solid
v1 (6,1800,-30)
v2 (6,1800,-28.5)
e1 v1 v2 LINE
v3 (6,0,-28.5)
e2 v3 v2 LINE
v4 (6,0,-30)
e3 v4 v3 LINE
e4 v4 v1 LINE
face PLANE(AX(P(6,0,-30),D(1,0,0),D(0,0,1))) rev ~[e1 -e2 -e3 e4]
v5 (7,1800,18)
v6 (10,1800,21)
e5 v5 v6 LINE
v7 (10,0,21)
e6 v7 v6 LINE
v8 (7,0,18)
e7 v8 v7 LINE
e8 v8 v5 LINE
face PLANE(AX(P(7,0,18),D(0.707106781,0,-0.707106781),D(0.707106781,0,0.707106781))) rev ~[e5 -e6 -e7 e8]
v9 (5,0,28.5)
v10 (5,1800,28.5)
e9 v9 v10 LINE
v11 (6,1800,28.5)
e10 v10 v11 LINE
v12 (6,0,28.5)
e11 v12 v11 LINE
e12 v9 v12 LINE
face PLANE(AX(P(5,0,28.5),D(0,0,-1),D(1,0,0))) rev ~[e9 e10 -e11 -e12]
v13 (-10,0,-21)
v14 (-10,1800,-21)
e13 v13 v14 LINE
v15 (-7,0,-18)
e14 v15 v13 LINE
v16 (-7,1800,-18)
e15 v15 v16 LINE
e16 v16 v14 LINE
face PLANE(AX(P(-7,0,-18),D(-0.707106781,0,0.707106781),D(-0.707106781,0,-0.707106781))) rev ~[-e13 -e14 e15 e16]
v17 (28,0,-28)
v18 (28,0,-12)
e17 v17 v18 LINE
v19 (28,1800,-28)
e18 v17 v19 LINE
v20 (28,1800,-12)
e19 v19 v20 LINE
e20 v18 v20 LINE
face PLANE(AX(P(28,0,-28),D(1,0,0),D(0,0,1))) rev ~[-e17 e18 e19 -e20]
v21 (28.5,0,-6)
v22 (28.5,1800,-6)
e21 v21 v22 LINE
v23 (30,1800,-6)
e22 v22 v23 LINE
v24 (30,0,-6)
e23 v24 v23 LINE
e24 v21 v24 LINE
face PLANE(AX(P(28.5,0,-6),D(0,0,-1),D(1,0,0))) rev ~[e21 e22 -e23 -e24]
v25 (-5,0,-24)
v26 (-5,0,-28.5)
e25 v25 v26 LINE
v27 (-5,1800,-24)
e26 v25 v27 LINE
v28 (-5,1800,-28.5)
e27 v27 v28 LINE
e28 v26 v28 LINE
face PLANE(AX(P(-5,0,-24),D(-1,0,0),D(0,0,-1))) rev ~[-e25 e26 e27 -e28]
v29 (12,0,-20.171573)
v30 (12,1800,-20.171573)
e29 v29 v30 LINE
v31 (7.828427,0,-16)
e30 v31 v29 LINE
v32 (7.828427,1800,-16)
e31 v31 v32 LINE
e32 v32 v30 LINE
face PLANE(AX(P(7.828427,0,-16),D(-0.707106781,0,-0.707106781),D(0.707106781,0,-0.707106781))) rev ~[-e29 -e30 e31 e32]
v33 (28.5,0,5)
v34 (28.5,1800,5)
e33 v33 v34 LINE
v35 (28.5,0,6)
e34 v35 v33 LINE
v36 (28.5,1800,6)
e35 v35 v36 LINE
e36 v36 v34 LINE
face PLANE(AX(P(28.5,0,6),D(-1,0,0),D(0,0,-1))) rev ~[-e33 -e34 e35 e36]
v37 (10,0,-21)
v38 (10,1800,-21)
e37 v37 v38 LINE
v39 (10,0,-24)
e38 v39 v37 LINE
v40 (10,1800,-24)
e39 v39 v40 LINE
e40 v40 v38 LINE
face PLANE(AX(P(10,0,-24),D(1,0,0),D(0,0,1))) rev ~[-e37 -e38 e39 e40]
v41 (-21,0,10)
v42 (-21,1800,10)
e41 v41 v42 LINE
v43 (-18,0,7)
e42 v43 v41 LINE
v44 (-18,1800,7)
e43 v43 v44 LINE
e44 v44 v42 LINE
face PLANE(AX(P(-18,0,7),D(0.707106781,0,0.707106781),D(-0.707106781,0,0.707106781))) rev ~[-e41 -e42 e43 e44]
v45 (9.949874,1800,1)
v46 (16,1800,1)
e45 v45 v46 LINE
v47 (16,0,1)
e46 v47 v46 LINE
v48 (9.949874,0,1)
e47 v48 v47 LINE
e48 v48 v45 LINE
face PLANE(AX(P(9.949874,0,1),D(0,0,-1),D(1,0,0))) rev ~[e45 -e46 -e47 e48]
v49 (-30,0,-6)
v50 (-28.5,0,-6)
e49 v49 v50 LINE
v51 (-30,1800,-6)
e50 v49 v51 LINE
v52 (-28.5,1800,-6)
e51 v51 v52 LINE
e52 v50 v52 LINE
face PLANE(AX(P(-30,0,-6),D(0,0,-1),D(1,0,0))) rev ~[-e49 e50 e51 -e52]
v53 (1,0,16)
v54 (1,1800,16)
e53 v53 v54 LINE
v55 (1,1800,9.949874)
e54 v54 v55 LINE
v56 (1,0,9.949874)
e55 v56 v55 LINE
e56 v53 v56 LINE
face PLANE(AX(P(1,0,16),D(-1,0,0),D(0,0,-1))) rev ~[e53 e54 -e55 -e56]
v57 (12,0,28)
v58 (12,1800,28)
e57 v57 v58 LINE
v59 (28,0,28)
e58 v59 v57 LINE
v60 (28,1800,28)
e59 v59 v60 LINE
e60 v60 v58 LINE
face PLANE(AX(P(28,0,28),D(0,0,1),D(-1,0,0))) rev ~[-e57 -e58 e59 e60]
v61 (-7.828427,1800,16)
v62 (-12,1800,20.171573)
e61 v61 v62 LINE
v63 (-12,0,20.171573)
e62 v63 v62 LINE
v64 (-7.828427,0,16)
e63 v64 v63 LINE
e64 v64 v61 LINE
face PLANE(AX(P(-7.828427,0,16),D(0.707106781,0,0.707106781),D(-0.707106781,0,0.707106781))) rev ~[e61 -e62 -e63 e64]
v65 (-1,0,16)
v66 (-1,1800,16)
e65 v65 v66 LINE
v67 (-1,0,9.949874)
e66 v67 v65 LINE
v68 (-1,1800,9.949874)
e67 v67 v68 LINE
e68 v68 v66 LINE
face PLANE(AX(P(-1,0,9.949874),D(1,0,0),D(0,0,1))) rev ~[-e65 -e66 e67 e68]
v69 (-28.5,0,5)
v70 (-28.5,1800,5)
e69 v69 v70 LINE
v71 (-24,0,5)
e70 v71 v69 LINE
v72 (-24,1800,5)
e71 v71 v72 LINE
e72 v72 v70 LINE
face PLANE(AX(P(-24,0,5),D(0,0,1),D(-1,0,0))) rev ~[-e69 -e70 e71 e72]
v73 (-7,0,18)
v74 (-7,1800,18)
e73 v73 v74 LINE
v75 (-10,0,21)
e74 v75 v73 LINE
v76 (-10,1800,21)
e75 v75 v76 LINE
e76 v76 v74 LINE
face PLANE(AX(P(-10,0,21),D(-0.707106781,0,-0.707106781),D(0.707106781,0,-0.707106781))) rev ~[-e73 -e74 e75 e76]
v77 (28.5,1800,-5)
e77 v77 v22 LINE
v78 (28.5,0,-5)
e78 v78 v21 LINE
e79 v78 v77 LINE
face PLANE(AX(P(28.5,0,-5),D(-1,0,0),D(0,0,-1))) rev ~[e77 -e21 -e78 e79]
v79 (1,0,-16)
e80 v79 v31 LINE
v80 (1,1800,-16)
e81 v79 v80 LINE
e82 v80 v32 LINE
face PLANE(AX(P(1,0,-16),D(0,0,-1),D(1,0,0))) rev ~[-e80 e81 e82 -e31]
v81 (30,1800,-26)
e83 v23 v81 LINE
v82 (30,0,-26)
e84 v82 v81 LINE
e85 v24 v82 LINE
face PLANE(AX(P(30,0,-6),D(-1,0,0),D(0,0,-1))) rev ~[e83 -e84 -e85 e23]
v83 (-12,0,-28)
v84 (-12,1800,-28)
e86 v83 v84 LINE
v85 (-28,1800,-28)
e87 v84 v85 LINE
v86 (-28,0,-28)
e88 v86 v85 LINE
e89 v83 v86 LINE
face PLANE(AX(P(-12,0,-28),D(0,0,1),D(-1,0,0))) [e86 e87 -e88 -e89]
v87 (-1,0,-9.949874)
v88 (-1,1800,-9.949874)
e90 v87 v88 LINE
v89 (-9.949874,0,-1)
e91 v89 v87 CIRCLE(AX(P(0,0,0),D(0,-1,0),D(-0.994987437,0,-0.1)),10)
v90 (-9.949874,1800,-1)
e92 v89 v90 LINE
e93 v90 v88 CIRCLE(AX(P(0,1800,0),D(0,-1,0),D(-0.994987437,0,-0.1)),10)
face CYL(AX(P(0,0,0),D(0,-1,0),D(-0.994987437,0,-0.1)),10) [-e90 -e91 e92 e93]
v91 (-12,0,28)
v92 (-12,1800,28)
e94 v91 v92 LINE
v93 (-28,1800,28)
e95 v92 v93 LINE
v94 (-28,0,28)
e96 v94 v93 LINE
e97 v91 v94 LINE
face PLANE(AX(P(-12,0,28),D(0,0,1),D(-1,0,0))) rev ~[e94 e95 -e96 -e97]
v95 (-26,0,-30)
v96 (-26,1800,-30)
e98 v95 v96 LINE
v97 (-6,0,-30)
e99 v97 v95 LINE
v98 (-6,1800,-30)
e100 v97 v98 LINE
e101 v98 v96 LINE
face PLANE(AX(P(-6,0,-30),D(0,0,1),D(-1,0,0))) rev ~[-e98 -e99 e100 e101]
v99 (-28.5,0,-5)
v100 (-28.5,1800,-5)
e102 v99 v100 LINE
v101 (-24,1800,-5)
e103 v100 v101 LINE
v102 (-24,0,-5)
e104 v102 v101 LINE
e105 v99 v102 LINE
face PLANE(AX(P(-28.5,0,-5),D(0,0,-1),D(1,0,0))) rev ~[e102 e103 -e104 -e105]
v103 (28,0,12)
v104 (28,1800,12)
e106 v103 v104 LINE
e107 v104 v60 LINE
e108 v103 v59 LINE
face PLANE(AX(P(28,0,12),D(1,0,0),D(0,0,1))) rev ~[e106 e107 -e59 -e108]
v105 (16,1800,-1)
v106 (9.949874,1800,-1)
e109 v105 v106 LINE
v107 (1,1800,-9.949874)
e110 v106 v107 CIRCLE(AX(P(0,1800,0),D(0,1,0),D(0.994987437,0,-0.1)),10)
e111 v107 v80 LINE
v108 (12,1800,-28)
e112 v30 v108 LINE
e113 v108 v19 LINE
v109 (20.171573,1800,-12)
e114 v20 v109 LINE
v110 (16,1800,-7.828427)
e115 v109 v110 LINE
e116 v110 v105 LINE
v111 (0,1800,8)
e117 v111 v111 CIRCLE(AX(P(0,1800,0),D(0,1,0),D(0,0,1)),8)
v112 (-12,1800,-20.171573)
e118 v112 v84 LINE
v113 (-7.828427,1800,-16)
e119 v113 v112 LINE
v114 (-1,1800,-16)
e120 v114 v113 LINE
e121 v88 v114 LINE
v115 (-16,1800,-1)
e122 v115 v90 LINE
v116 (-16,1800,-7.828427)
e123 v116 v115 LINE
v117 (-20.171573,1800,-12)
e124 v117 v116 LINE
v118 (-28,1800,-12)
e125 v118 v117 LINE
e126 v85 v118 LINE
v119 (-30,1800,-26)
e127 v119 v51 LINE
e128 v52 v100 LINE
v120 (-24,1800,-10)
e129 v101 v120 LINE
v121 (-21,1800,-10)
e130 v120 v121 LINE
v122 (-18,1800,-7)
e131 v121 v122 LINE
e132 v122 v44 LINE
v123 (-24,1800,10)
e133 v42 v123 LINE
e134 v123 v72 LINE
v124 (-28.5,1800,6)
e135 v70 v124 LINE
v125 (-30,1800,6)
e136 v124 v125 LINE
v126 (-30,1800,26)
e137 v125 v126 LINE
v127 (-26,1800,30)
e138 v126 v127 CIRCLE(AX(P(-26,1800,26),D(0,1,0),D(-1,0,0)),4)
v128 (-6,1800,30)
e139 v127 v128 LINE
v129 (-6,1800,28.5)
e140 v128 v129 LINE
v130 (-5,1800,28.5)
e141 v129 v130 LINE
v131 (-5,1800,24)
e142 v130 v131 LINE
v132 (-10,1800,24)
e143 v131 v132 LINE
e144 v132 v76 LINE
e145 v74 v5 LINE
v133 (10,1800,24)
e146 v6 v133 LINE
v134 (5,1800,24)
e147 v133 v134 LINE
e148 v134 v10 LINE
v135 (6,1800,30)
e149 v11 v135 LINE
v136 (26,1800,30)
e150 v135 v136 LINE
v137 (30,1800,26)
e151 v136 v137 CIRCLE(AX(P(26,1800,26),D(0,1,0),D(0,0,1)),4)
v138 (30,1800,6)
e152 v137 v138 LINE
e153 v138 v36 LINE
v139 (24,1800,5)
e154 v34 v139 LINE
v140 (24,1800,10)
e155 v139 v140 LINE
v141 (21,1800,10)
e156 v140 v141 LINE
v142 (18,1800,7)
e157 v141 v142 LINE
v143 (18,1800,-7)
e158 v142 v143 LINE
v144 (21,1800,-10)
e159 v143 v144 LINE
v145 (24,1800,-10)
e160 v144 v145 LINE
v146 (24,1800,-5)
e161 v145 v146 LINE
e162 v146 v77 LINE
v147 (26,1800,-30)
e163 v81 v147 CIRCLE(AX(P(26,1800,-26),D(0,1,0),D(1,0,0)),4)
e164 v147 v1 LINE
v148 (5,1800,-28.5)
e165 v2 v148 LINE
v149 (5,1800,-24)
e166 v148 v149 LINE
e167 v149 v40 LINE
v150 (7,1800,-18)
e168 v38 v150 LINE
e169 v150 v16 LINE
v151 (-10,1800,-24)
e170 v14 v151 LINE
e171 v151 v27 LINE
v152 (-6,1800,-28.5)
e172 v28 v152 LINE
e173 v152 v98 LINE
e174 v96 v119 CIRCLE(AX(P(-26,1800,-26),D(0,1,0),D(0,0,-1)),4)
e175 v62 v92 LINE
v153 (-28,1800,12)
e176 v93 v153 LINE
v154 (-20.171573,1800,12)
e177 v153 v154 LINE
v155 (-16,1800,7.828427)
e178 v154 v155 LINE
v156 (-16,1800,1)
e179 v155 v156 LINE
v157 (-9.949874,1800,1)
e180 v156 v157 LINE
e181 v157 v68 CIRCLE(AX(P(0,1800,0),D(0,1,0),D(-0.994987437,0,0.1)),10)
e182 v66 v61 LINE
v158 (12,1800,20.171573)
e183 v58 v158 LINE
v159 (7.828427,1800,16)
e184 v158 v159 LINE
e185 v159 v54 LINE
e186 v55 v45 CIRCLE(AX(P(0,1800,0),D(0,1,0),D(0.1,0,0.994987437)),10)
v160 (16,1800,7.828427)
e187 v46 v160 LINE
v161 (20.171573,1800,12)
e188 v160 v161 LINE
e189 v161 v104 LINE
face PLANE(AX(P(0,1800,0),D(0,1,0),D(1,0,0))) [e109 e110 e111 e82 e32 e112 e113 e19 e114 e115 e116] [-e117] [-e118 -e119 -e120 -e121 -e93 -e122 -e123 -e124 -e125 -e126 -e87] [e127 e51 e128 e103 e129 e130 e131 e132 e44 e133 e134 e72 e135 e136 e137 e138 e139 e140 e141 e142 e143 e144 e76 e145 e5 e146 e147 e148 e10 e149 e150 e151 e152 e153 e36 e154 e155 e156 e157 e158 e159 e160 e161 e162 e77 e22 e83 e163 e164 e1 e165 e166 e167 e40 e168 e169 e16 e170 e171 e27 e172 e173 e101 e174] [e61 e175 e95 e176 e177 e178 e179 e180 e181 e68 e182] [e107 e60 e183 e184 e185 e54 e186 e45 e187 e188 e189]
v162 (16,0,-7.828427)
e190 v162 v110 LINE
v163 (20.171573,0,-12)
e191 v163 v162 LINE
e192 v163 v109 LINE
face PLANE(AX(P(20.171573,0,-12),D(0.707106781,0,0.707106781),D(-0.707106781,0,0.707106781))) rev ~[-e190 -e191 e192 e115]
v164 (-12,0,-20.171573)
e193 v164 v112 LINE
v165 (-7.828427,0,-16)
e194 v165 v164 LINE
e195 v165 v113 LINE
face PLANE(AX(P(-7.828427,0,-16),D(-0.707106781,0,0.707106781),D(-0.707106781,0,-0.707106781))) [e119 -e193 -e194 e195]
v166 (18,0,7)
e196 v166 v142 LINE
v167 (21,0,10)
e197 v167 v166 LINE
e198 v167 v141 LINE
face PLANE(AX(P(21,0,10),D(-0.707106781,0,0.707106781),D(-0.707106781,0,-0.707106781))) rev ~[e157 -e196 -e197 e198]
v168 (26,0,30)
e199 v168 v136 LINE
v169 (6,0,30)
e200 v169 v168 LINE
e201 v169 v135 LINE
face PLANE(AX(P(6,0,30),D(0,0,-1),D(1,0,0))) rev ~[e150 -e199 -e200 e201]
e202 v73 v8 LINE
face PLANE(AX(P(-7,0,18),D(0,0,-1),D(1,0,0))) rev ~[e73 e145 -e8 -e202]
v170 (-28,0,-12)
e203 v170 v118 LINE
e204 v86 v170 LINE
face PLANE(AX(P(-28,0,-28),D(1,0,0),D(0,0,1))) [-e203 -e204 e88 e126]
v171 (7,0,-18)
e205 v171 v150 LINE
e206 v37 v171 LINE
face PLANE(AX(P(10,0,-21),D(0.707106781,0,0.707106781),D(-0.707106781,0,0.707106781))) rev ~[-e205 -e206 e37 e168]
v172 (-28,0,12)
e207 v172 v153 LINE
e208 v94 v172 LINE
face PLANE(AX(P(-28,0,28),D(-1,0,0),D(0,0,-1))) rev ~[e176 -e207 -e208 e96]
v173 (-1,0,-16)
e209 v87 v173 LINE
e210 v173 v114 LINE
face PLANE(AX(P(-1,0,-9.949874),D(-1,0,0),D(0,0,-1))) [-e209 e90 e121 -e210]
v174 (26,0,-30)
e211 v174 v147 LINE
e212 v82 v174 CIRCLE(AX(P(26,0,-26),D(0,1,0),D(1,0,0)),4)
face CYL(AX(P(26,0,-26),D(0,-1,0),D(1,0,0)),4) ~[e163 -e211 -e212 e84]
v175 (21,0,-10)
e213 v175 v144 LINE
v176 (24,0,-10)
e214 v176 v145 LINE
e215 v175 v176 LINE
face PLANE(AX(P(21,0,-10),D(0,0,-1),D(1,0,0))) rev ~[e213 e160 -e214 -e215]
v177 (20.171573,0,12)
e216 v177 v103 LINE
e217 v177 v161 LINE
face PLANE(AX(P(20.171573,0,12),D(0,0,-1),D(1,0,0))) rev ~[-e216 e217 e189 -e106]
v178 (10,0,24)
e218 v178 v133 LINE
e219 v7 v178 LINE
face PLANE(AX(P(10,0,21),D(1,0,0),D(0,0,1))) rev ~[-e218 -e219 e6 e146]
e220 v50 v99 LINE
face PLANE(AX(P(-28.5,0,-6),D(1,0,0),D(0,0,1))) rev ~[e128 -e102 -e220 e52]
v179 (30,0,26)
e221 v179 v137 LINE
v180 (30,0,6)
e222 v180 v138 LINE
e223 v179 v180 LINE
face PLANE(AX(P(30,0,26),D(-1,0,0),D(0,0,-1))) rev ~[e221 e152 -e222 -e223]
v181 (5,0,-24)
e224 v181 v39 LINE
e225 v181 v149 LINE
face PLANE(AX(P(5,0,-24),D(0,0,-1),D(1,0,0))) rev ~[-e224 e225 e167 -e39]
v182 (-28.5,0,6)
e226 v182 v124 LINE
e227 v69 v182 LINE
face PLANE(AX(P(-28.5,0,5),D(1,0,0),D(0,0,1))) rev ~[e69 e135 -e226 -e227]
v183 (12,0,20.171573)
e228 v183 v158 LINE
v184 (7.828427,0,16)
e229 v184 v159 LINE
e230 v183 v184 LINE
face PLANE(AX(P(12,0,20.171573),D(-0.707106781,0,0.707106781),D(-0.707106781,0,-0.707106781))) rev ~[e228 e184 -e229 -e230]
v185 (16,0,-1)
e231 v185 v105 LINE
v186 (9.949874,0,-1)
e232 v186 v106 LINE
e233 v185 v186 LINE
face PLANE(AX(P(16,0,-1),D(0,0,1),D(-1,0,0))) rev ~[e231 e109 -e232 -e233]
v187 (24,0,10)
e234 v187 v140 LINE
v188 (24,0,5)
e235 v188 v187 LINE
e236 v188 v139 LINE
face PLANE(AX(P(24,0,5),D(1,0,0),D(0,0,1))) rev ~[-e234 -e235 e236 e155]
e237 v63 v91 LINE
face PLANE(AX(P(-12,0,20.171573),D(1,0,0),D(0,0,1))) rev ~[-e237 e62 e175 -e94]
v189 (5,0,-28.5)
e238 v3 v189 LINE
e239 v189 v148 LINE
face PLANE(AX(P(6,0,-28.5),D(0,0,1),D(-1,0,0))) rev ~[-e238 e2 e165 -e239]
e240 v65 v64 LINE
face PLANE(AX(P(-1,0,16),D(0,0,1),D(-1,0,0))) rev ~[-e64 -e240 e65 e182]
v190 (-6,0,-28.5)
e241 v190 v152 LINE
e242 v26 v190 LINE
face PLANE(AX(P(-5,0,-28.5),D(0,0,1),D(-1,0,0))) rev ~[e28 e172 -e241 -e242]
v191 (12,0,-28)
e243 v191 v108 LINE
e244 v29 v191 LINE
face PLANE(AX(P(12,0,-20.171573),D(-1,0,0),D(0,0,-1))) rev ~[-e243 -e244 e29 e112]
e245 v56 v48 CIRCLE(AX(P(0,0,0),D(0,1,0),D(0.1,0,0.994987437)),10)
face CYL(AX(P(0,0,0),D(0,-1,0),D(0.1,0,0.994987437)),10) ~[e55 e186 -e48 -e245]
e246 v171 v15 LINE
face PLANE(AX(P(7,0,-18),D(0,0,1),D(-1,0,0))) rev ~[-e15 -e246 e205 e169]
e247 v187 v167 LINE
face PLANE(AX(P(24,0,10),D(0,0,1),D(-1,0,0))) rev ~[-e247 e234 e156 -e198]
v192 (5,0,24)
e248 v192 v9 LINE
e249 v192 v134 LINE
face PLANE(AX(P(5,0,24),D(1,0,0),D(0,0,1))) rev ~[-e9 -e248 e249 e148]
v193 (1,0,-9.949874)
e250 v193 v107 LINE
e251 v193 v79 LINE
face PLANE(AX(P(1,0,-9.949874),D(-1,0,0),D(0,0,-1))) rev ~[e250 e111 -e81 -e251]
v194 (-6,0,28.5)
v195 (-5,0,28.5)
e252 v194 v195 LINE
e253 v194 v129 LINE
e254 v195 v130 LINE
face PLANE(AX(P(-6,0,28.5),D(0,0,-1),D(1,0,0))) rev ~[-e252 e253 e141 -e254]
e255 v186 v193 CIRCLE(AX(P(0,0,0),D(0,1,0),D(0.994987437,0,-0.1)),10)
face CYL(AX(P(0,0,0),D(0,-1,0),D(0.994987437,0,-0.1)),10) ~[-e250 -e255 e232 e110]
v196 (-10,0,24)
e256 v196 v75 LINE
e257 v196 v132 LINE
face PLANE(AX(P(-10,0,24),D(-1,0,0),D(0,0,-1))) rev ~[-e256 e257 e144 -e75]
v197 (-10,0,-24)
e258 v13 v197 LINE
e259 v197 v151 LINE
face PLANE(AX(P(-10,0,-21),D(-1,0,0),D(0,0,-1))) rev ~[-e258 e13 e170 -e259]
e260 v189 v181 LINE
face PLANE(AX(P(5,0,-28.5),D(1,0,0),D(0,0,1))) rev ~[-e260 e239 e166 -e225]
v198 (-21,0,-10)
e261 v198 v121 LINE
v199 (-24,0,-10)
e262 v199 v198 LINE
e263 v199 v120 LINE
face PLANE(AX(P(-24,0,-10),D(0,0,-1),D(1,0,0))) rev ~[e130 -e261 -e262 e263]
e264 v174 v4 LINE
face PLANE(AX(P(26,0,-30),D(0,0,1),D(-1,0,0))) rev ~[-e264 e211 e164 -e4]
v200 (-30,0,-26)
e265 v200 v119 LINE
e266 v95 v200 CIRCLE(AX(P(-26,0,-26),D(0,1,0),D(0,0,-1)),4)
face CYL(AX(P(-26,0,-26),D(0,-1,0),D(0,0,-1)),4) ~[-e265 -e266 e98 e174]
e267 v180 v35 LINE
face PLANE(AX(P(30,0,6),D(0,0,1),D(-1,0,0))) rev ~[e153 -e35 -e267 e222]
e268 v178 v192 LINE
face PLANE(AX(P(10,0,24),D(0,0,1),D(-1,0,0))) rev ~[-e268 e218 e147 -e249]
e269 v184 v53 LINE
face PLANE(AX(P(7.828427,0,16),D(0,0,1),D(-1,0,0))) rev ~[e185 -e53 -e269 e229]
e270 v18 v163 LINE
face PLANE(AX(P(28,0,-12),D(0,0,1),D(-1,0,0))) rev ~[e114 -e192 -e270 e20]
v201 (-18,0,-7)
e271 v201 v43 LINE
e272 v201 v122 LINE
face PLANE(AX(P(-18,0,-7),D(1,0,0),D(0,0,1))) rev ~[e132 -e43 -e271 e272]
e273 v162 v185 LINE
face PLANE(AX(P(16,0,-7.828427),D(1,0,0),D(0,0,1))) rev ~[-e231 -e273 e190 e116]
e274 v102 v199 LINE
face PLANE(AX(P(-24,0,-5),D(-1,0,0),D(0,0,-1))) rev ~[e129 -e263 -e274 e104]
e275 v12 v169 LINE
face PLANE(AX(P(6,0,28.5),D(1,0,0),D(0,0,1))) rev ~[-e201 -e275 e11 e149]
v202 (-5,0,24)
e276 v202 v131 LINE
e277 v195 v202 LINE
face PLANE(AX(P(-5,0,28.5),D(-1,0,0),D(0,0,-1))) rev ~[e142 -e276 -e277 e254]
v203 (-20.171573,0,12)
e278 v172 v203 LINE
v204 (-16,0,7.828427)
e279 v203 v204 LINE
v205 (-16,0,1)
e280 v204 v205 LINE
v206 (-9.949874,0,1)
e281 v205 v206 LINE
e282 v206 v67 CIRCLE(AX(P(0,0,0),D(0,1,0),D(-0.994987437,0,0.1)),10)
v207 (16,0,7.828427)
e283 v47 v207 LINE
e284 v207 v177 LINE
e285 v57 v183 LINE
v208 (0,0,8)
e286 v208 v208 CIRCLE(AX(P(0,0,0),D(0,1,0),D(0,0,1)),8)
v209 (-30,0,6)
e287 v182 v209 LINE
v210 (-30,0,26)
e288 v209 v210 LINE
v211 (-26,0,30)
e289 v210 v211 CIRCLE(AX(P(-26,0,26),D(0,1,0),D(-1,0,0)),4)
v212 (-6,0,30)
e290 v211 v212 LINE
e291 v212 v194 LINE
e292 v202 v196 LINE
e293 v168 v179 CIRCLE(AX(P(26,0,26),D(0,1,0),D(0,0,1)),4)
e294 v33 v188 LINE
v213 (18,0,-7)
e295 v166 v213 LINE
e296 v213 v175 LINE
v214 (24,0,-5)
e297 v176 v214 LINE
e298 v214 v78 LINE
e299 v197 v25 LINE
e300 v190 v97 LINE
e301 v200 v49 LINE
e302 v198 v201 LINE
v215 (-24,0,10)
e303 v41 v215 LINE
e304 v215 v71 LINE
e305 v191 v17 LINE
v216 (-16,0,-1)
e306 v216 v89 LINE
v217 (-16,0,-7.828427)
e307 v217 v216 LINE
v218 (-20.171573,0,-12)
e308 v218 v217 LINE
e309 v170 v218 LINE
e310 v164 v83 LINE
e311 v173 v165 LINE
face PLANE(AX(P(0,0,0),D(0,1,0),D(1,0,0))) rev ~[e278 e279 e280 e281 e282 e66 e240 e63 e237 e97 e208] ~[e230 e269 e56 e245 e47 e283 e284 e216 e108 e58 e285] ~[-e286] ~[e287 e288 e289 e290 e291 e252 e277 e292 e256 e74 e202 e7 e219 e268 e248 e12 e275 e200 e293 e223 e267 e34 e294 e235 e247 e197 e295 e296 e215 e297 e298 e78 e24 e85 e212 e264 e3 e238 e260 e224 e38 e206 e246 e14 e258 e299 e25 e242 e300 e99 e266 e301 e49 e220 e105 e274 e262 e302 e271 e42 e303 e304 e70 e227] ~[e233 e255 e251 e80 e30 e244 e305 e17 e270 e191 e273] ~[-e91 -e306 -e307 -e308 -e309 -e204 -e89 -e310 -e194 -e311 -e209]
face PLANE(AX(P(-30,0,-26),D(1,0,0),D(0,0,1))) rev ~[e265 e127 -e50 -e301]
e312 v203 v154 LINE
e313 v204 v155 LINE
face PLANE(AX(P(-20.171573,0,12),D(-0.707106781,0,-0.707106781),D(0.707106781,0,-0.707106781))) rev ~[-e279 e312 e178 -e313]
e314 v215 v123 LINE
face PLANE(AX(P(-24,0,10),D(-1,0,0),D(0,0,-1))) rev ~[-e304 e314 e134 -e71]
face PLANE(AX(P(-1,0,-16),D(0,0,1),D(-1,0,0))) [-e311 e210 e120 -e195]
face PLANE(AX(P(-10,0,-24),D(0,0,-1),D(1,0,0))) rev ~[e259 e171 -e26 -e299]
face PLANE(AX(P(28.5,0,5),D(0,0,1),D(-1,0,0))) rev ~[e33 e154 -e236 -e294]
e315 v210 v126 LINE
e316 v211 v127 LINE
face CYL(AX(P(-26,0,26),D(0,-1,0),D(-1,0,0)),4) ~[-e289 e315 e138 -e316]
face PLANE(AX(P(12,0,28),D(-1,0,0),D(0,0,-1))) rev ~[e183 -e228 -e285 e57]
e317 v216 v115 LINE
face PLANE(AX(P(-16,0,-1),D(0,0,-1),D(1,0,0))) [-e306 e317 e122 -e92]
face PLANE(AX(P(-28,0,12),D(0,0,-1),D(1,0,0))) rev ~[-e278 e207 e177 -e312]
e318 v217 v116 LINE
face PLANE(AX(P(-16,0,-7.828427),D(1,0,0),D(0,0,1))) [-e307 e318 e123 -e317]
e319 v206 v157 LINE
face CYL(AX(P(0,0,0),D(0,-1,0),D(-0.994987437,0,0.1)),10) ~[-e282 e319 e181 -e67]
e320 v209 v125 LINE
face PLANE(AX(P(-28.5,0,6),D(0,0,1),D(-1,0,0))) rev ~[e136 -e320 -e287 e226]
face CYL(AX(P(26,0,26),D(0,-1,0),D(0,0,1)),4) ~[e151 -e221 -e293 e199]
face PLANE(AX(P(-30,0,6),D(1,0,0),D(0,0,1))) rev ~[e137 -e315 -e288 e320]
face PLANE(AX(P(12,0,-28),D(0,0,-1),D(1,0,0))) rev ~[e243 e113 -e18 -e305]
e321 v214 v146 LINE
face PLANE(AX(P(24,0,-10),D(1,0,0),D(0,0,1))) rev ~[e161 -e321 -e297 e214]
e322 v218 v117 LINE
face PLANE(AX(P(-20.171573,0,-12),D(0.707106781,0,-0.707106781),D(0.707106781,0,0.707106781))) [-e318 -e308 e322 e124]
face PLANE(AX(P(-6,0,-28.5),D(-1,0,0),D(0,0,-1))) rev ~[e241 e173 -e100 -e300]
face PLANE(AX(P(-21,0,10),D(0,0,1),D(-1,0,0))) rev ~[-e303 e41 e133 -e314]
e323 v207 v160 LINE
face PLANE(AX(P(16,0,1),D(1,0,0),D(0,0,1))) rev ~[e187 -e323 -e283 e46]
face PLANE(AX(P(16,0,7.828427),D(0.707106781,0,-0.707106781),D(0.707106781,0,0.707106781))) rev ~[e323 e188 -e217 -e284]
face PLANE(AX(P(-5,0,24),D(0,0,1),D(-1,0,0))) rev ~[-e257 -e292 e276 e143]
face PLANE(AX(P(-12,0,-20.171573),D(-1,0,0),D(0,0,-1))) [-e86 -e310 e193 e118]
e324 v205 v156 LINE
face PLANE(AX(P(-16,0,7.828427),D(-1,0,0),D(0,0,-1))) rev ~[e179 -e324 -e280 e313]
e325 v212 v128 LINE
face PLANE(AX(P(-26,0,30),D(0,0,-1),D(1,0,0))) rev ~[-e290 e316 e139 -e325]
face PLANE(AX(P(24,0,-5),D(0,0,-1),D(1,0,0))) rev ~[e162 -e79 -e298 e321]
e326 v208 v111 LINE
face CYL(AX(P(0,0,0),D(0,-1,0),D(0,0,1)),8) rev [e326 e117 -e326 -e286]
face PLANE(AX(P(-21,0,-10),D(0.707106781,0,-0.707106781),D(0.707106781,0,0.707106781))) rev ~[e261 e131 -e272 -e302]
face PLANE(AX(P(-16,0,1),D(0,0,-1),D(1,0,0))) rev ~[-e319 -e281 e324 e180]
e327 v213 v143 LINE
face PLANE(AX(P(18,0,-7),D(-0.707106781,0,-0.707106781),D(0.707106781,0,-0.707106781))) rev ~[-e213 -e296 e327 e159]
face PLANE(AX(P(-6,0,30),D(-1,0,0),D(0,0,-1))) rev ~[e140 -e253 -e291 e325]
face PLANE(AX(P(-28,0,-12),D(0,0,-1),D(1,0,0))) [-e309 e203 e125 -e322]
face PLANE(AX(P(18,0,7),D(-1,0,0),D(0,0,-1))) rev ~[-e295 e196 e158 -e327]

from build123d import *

# Parameters (mm, degrees)
SKETCH_1_R      = 8
EXTRUDE_1_DEPTH = 1800


with BuildPart() as part:
    # 草图1 → 凸台-拉伸1 (new body)
    with BuildSketch(Plane(origin=(0, 0, 0), x_dir=(1, 0, 0), z_dir=(0, 1, 0))):
        with BuildLine():
            Line((-30, 5.999999999), (-28.5, 5.999999999))
            Line((-28.5, 5.999999999), (-28.5, 4.999999999))
            Line((-28.5, 4.999999999), (-24, 4.999999999))
            Line((-24, 4.999999999), (-24, 9.999999999))
            Line((-24, 9.999999999), (-21, 9.999999999))
            Line((-21, 9.999999999), (-18, 6.999999999))
            Line((-18, 6.999999999), (-18, -7.000000001))
            Line((-18, -7.000000001), (-21, -10.000000001))
            Line((-21, -10.000000001), (-24, -10.000000001))
            Line((-24, -10.000000001), (-24, -5.000000001))
            Line((-24, -5.000000001), (-28.5, -5.000000001))
            Line((-28.5, -5.000000001), (-28.5, -6.000000001))
            Line((-28.5, -6.000000001), (-30, -6.000000001))
            Line((-30, -6.000000001), (-30, -26.000000001))
            ThreePointArc((-30, -26.000000001), (-28.828427125, -28.828427126), (-26, -30.000000001))
            Line((-26, -30.000000001), (-6, -30.000000001))
            Line((-6, -30.000000001), (-6, -28.500000001))
            Line((-6, -28.500000001), (-5, -28.500000001))
            Line((-5, -28.500000001), (-5, -24.000000001))
            Line((-5, -24.000000001), (-10, -24.000000001))
            Line((-10, -24.000000001), (-10, -21.000000001))
            Line((-10, -21.000000001), (-7, -18.000000001))
            Line((-7, -18.000000001), (7, -18.000000001))
            Line((7, -18.000000001), (10, -21.000000001))
            Line((10, -21.000000001), (10, -24.000000001))
            Line((10, -24.000000001), (5, -24.000000001))
            Line((5, -24.000000001), (5, -28.500000001))
            Line((5, -28.500000001), (6, -28.500000001))
            Line((6, -28.500000001), (6, -30.000000001))
            Line((6, -30.000000001), (26, -30.000000001))
            ThreePointArc((26, -30.000000001), (28.828427125, -28.828427126), (30, -26.000000001))
            Line((30, -26.000000001), (30, -6.000000001))
            Line((30, -6.000000001), (28.5, -6.000000001))
            Line((28.5, -6.000000001), (28.5, -5.000000001))
            Line((28.5, -5.000000001), (24, -5.000000001))
            Line((24, -5.000000001), (24, -10.000000001))
            Line((24, -10.000000001), (21, -10.000000001))
            Line((21, -10.000000001), (18, -7.000000001))
            Line((18, -7.000000001), (18, 6.999999999))
            Line((18, 6.999999999), (21, 9.999999999))
            Line((21, 9.999999999), (24, 9.999999999))
            Line((24, 9.999999999), (24, 4.999999999))
            Line((24, 4.999999999), (28.5, 4.999999999))
            Line((28.5, 4.999999999), (28.5, 5.999999999))
            Line((28.5, 5.999999999), (30, 5.999999999))
            Line((30, 5.999999999), (30, 25.999999999))
            ThreePointArc((30, 25.999999999), (28.828427125, 28.828427124), (26, 29.999999999))
            Line((26, 29.999999999), (6, 29.999999999))
            Line((6, 29.999999999), (6, 28.499999999))
            Line((6, 28.499999999), (5, 28.499999999))
            Line((5, 28.499999999), (5, 23.999999999))
            Line((5, 23.999999999), (10, 23.999999999))
            Line((10, 23.999999999), (10, 20.999999999))
            Line((10, 20.999999999), (7, 17.999999999))
            Line((7, 17.999999999), (-7, 17.999999999))
            Line((-7, 17.999999999), (-10, 20.999999999))
            Line((-10, 20.999999999), (-10, 23.999999999))
            Line((-10, 23.999999999), (-5, 23.999999999))
            Line((-5, 23.999999999), (-5, 28.499999999))
            Line((-5, 28.499999999), (-6, 28.499999999))
            Line((-6, 28.499999999), (-6, 29.999999999))
            Line((-6, 29.999999999), (-26.000000001, 29.999999999))
            ThreePointArc((-26.000000001, 29.999999999), (-28.828427125, 28.828427123), (-30, 25.999999999))
            Line((-30, 25.999999999), (-30, 5.999999999))
        make_face()
        with Locations(Location((0, 0, 0), (0, 0, 270))):
            Circle(SKETCH_1_R, mode=Mode.SUBTRACT)
        with BuildLine():
            Line((-16, 1), (-9.949874371, 1))
            ThreePointArc((-9.949874371, 1), (-7.071067812, 7.071067811), (-1.000000001, 9.949874371))
            Line((-1.000000001, 9.949874371), (-1.000000001, 16))
            Line((-1.000000001, 16), (-7.828427125, 16))
            Line((-7.828427125, 16), (-12, 20.171572875))
            Line((-12, 20.171572875), (-12, 28))
            Line((-12, 28), (-28, 28))
            Line((-28, 28), (-28, 12))
            Line((-28, 12), (-20.171572875, 12))
            Line((-20.171572875, 12), (-16, 7.828427125))
            Line((-16, 7.828427125), (-16, 1))
        make_face(mode=Mode.SUBTRACT)
        with BuildLine():
            Line((1, 9.949874371), (1, 16))
            Line((1, 16), (7.828427125, 16))
            Line((7.828427125, 16), (12, 20.171572875))
            Line((12, 20.171572875), (12, 28))
            Line((12, 28), (28, 28))
            Line((28, 28), (28, 12.000000001))
            Line((28, 12.000000001), (20.171572875, 12.000000001))
            Line((20.171572875, 12.000000001), (16, 7.828427126))
            Line((16, 7.828427126), (16, 1.000000001))
            Line((16, 1.000000001), (9.949874371, 1.000000001))
            ThreePointArc((9.949874371, 1.000000001), (7.071067811, 7.071067812), (1, 9.949874371))
        make_face(mode=Mode.SUBTRACT)
        with BuildLine():
            Line((9.949874371, -1), (16, -1))
            Line((16, -1), (16, -7.828427125))
            Line((16, -7.828427125), (20.171572875, -12))
            Line((20.171572875, -12), (28.000000001, -12))
            Line((28.000000001, -12), (28.000000001, -28))
            Line((28.000000001, -28), (12.000000001, -28))
            Line((12.000000001, -28), (12.000000001, -20.171572875))
            Line((12.000000001, -20.171572875), (7.828427126, -16))
            Line((7.828427126, -16), (1.000000001, -16))
            Line((1.000000001, -16), (1.000000001, -9.949874371))
            ThreePointArc((1.000000001, -9.949874371), (7.071067812, -7.071067811), (9.949874371, -1))
        make_face(mode=Mode.SUBTRACT)
        with BuildLine():
            Line((-1, -9.949874371), (-1, -16.000000001))
            Line((-1, -16.000000001), (-7.828427125, -16.000000001))
            Line((-7.828427125, -16.000000001), (-12, -20.171572876))
            Line((-12, -20.171572876), (-12, -28.000000001))
            Line((-12, -28.000000001), (-28, -28.000000001))
            Line((-28, -28.000000001), (-28, -12.000000001))
            Line((-28, -12.000000001), (-20.171572875, -12.000000001))
            Line((-20.171572875, -12.000000001), (-16, -7.828427126))
            Line((-16, -7.828427126), (-16, -1.000000001))
            Line((-16, -1.000000001), (-9.949874371, -1.000000001))
            ThreePointArc((-9.949874371, -1.000000001), (-7.071067811, -7.071067812), (-1, -9.949874371))
        make_face(mode=Mode.SUBTRACT)
    extrude(amount=EXTRUDE_1_DEPTH)


solid = part.part
